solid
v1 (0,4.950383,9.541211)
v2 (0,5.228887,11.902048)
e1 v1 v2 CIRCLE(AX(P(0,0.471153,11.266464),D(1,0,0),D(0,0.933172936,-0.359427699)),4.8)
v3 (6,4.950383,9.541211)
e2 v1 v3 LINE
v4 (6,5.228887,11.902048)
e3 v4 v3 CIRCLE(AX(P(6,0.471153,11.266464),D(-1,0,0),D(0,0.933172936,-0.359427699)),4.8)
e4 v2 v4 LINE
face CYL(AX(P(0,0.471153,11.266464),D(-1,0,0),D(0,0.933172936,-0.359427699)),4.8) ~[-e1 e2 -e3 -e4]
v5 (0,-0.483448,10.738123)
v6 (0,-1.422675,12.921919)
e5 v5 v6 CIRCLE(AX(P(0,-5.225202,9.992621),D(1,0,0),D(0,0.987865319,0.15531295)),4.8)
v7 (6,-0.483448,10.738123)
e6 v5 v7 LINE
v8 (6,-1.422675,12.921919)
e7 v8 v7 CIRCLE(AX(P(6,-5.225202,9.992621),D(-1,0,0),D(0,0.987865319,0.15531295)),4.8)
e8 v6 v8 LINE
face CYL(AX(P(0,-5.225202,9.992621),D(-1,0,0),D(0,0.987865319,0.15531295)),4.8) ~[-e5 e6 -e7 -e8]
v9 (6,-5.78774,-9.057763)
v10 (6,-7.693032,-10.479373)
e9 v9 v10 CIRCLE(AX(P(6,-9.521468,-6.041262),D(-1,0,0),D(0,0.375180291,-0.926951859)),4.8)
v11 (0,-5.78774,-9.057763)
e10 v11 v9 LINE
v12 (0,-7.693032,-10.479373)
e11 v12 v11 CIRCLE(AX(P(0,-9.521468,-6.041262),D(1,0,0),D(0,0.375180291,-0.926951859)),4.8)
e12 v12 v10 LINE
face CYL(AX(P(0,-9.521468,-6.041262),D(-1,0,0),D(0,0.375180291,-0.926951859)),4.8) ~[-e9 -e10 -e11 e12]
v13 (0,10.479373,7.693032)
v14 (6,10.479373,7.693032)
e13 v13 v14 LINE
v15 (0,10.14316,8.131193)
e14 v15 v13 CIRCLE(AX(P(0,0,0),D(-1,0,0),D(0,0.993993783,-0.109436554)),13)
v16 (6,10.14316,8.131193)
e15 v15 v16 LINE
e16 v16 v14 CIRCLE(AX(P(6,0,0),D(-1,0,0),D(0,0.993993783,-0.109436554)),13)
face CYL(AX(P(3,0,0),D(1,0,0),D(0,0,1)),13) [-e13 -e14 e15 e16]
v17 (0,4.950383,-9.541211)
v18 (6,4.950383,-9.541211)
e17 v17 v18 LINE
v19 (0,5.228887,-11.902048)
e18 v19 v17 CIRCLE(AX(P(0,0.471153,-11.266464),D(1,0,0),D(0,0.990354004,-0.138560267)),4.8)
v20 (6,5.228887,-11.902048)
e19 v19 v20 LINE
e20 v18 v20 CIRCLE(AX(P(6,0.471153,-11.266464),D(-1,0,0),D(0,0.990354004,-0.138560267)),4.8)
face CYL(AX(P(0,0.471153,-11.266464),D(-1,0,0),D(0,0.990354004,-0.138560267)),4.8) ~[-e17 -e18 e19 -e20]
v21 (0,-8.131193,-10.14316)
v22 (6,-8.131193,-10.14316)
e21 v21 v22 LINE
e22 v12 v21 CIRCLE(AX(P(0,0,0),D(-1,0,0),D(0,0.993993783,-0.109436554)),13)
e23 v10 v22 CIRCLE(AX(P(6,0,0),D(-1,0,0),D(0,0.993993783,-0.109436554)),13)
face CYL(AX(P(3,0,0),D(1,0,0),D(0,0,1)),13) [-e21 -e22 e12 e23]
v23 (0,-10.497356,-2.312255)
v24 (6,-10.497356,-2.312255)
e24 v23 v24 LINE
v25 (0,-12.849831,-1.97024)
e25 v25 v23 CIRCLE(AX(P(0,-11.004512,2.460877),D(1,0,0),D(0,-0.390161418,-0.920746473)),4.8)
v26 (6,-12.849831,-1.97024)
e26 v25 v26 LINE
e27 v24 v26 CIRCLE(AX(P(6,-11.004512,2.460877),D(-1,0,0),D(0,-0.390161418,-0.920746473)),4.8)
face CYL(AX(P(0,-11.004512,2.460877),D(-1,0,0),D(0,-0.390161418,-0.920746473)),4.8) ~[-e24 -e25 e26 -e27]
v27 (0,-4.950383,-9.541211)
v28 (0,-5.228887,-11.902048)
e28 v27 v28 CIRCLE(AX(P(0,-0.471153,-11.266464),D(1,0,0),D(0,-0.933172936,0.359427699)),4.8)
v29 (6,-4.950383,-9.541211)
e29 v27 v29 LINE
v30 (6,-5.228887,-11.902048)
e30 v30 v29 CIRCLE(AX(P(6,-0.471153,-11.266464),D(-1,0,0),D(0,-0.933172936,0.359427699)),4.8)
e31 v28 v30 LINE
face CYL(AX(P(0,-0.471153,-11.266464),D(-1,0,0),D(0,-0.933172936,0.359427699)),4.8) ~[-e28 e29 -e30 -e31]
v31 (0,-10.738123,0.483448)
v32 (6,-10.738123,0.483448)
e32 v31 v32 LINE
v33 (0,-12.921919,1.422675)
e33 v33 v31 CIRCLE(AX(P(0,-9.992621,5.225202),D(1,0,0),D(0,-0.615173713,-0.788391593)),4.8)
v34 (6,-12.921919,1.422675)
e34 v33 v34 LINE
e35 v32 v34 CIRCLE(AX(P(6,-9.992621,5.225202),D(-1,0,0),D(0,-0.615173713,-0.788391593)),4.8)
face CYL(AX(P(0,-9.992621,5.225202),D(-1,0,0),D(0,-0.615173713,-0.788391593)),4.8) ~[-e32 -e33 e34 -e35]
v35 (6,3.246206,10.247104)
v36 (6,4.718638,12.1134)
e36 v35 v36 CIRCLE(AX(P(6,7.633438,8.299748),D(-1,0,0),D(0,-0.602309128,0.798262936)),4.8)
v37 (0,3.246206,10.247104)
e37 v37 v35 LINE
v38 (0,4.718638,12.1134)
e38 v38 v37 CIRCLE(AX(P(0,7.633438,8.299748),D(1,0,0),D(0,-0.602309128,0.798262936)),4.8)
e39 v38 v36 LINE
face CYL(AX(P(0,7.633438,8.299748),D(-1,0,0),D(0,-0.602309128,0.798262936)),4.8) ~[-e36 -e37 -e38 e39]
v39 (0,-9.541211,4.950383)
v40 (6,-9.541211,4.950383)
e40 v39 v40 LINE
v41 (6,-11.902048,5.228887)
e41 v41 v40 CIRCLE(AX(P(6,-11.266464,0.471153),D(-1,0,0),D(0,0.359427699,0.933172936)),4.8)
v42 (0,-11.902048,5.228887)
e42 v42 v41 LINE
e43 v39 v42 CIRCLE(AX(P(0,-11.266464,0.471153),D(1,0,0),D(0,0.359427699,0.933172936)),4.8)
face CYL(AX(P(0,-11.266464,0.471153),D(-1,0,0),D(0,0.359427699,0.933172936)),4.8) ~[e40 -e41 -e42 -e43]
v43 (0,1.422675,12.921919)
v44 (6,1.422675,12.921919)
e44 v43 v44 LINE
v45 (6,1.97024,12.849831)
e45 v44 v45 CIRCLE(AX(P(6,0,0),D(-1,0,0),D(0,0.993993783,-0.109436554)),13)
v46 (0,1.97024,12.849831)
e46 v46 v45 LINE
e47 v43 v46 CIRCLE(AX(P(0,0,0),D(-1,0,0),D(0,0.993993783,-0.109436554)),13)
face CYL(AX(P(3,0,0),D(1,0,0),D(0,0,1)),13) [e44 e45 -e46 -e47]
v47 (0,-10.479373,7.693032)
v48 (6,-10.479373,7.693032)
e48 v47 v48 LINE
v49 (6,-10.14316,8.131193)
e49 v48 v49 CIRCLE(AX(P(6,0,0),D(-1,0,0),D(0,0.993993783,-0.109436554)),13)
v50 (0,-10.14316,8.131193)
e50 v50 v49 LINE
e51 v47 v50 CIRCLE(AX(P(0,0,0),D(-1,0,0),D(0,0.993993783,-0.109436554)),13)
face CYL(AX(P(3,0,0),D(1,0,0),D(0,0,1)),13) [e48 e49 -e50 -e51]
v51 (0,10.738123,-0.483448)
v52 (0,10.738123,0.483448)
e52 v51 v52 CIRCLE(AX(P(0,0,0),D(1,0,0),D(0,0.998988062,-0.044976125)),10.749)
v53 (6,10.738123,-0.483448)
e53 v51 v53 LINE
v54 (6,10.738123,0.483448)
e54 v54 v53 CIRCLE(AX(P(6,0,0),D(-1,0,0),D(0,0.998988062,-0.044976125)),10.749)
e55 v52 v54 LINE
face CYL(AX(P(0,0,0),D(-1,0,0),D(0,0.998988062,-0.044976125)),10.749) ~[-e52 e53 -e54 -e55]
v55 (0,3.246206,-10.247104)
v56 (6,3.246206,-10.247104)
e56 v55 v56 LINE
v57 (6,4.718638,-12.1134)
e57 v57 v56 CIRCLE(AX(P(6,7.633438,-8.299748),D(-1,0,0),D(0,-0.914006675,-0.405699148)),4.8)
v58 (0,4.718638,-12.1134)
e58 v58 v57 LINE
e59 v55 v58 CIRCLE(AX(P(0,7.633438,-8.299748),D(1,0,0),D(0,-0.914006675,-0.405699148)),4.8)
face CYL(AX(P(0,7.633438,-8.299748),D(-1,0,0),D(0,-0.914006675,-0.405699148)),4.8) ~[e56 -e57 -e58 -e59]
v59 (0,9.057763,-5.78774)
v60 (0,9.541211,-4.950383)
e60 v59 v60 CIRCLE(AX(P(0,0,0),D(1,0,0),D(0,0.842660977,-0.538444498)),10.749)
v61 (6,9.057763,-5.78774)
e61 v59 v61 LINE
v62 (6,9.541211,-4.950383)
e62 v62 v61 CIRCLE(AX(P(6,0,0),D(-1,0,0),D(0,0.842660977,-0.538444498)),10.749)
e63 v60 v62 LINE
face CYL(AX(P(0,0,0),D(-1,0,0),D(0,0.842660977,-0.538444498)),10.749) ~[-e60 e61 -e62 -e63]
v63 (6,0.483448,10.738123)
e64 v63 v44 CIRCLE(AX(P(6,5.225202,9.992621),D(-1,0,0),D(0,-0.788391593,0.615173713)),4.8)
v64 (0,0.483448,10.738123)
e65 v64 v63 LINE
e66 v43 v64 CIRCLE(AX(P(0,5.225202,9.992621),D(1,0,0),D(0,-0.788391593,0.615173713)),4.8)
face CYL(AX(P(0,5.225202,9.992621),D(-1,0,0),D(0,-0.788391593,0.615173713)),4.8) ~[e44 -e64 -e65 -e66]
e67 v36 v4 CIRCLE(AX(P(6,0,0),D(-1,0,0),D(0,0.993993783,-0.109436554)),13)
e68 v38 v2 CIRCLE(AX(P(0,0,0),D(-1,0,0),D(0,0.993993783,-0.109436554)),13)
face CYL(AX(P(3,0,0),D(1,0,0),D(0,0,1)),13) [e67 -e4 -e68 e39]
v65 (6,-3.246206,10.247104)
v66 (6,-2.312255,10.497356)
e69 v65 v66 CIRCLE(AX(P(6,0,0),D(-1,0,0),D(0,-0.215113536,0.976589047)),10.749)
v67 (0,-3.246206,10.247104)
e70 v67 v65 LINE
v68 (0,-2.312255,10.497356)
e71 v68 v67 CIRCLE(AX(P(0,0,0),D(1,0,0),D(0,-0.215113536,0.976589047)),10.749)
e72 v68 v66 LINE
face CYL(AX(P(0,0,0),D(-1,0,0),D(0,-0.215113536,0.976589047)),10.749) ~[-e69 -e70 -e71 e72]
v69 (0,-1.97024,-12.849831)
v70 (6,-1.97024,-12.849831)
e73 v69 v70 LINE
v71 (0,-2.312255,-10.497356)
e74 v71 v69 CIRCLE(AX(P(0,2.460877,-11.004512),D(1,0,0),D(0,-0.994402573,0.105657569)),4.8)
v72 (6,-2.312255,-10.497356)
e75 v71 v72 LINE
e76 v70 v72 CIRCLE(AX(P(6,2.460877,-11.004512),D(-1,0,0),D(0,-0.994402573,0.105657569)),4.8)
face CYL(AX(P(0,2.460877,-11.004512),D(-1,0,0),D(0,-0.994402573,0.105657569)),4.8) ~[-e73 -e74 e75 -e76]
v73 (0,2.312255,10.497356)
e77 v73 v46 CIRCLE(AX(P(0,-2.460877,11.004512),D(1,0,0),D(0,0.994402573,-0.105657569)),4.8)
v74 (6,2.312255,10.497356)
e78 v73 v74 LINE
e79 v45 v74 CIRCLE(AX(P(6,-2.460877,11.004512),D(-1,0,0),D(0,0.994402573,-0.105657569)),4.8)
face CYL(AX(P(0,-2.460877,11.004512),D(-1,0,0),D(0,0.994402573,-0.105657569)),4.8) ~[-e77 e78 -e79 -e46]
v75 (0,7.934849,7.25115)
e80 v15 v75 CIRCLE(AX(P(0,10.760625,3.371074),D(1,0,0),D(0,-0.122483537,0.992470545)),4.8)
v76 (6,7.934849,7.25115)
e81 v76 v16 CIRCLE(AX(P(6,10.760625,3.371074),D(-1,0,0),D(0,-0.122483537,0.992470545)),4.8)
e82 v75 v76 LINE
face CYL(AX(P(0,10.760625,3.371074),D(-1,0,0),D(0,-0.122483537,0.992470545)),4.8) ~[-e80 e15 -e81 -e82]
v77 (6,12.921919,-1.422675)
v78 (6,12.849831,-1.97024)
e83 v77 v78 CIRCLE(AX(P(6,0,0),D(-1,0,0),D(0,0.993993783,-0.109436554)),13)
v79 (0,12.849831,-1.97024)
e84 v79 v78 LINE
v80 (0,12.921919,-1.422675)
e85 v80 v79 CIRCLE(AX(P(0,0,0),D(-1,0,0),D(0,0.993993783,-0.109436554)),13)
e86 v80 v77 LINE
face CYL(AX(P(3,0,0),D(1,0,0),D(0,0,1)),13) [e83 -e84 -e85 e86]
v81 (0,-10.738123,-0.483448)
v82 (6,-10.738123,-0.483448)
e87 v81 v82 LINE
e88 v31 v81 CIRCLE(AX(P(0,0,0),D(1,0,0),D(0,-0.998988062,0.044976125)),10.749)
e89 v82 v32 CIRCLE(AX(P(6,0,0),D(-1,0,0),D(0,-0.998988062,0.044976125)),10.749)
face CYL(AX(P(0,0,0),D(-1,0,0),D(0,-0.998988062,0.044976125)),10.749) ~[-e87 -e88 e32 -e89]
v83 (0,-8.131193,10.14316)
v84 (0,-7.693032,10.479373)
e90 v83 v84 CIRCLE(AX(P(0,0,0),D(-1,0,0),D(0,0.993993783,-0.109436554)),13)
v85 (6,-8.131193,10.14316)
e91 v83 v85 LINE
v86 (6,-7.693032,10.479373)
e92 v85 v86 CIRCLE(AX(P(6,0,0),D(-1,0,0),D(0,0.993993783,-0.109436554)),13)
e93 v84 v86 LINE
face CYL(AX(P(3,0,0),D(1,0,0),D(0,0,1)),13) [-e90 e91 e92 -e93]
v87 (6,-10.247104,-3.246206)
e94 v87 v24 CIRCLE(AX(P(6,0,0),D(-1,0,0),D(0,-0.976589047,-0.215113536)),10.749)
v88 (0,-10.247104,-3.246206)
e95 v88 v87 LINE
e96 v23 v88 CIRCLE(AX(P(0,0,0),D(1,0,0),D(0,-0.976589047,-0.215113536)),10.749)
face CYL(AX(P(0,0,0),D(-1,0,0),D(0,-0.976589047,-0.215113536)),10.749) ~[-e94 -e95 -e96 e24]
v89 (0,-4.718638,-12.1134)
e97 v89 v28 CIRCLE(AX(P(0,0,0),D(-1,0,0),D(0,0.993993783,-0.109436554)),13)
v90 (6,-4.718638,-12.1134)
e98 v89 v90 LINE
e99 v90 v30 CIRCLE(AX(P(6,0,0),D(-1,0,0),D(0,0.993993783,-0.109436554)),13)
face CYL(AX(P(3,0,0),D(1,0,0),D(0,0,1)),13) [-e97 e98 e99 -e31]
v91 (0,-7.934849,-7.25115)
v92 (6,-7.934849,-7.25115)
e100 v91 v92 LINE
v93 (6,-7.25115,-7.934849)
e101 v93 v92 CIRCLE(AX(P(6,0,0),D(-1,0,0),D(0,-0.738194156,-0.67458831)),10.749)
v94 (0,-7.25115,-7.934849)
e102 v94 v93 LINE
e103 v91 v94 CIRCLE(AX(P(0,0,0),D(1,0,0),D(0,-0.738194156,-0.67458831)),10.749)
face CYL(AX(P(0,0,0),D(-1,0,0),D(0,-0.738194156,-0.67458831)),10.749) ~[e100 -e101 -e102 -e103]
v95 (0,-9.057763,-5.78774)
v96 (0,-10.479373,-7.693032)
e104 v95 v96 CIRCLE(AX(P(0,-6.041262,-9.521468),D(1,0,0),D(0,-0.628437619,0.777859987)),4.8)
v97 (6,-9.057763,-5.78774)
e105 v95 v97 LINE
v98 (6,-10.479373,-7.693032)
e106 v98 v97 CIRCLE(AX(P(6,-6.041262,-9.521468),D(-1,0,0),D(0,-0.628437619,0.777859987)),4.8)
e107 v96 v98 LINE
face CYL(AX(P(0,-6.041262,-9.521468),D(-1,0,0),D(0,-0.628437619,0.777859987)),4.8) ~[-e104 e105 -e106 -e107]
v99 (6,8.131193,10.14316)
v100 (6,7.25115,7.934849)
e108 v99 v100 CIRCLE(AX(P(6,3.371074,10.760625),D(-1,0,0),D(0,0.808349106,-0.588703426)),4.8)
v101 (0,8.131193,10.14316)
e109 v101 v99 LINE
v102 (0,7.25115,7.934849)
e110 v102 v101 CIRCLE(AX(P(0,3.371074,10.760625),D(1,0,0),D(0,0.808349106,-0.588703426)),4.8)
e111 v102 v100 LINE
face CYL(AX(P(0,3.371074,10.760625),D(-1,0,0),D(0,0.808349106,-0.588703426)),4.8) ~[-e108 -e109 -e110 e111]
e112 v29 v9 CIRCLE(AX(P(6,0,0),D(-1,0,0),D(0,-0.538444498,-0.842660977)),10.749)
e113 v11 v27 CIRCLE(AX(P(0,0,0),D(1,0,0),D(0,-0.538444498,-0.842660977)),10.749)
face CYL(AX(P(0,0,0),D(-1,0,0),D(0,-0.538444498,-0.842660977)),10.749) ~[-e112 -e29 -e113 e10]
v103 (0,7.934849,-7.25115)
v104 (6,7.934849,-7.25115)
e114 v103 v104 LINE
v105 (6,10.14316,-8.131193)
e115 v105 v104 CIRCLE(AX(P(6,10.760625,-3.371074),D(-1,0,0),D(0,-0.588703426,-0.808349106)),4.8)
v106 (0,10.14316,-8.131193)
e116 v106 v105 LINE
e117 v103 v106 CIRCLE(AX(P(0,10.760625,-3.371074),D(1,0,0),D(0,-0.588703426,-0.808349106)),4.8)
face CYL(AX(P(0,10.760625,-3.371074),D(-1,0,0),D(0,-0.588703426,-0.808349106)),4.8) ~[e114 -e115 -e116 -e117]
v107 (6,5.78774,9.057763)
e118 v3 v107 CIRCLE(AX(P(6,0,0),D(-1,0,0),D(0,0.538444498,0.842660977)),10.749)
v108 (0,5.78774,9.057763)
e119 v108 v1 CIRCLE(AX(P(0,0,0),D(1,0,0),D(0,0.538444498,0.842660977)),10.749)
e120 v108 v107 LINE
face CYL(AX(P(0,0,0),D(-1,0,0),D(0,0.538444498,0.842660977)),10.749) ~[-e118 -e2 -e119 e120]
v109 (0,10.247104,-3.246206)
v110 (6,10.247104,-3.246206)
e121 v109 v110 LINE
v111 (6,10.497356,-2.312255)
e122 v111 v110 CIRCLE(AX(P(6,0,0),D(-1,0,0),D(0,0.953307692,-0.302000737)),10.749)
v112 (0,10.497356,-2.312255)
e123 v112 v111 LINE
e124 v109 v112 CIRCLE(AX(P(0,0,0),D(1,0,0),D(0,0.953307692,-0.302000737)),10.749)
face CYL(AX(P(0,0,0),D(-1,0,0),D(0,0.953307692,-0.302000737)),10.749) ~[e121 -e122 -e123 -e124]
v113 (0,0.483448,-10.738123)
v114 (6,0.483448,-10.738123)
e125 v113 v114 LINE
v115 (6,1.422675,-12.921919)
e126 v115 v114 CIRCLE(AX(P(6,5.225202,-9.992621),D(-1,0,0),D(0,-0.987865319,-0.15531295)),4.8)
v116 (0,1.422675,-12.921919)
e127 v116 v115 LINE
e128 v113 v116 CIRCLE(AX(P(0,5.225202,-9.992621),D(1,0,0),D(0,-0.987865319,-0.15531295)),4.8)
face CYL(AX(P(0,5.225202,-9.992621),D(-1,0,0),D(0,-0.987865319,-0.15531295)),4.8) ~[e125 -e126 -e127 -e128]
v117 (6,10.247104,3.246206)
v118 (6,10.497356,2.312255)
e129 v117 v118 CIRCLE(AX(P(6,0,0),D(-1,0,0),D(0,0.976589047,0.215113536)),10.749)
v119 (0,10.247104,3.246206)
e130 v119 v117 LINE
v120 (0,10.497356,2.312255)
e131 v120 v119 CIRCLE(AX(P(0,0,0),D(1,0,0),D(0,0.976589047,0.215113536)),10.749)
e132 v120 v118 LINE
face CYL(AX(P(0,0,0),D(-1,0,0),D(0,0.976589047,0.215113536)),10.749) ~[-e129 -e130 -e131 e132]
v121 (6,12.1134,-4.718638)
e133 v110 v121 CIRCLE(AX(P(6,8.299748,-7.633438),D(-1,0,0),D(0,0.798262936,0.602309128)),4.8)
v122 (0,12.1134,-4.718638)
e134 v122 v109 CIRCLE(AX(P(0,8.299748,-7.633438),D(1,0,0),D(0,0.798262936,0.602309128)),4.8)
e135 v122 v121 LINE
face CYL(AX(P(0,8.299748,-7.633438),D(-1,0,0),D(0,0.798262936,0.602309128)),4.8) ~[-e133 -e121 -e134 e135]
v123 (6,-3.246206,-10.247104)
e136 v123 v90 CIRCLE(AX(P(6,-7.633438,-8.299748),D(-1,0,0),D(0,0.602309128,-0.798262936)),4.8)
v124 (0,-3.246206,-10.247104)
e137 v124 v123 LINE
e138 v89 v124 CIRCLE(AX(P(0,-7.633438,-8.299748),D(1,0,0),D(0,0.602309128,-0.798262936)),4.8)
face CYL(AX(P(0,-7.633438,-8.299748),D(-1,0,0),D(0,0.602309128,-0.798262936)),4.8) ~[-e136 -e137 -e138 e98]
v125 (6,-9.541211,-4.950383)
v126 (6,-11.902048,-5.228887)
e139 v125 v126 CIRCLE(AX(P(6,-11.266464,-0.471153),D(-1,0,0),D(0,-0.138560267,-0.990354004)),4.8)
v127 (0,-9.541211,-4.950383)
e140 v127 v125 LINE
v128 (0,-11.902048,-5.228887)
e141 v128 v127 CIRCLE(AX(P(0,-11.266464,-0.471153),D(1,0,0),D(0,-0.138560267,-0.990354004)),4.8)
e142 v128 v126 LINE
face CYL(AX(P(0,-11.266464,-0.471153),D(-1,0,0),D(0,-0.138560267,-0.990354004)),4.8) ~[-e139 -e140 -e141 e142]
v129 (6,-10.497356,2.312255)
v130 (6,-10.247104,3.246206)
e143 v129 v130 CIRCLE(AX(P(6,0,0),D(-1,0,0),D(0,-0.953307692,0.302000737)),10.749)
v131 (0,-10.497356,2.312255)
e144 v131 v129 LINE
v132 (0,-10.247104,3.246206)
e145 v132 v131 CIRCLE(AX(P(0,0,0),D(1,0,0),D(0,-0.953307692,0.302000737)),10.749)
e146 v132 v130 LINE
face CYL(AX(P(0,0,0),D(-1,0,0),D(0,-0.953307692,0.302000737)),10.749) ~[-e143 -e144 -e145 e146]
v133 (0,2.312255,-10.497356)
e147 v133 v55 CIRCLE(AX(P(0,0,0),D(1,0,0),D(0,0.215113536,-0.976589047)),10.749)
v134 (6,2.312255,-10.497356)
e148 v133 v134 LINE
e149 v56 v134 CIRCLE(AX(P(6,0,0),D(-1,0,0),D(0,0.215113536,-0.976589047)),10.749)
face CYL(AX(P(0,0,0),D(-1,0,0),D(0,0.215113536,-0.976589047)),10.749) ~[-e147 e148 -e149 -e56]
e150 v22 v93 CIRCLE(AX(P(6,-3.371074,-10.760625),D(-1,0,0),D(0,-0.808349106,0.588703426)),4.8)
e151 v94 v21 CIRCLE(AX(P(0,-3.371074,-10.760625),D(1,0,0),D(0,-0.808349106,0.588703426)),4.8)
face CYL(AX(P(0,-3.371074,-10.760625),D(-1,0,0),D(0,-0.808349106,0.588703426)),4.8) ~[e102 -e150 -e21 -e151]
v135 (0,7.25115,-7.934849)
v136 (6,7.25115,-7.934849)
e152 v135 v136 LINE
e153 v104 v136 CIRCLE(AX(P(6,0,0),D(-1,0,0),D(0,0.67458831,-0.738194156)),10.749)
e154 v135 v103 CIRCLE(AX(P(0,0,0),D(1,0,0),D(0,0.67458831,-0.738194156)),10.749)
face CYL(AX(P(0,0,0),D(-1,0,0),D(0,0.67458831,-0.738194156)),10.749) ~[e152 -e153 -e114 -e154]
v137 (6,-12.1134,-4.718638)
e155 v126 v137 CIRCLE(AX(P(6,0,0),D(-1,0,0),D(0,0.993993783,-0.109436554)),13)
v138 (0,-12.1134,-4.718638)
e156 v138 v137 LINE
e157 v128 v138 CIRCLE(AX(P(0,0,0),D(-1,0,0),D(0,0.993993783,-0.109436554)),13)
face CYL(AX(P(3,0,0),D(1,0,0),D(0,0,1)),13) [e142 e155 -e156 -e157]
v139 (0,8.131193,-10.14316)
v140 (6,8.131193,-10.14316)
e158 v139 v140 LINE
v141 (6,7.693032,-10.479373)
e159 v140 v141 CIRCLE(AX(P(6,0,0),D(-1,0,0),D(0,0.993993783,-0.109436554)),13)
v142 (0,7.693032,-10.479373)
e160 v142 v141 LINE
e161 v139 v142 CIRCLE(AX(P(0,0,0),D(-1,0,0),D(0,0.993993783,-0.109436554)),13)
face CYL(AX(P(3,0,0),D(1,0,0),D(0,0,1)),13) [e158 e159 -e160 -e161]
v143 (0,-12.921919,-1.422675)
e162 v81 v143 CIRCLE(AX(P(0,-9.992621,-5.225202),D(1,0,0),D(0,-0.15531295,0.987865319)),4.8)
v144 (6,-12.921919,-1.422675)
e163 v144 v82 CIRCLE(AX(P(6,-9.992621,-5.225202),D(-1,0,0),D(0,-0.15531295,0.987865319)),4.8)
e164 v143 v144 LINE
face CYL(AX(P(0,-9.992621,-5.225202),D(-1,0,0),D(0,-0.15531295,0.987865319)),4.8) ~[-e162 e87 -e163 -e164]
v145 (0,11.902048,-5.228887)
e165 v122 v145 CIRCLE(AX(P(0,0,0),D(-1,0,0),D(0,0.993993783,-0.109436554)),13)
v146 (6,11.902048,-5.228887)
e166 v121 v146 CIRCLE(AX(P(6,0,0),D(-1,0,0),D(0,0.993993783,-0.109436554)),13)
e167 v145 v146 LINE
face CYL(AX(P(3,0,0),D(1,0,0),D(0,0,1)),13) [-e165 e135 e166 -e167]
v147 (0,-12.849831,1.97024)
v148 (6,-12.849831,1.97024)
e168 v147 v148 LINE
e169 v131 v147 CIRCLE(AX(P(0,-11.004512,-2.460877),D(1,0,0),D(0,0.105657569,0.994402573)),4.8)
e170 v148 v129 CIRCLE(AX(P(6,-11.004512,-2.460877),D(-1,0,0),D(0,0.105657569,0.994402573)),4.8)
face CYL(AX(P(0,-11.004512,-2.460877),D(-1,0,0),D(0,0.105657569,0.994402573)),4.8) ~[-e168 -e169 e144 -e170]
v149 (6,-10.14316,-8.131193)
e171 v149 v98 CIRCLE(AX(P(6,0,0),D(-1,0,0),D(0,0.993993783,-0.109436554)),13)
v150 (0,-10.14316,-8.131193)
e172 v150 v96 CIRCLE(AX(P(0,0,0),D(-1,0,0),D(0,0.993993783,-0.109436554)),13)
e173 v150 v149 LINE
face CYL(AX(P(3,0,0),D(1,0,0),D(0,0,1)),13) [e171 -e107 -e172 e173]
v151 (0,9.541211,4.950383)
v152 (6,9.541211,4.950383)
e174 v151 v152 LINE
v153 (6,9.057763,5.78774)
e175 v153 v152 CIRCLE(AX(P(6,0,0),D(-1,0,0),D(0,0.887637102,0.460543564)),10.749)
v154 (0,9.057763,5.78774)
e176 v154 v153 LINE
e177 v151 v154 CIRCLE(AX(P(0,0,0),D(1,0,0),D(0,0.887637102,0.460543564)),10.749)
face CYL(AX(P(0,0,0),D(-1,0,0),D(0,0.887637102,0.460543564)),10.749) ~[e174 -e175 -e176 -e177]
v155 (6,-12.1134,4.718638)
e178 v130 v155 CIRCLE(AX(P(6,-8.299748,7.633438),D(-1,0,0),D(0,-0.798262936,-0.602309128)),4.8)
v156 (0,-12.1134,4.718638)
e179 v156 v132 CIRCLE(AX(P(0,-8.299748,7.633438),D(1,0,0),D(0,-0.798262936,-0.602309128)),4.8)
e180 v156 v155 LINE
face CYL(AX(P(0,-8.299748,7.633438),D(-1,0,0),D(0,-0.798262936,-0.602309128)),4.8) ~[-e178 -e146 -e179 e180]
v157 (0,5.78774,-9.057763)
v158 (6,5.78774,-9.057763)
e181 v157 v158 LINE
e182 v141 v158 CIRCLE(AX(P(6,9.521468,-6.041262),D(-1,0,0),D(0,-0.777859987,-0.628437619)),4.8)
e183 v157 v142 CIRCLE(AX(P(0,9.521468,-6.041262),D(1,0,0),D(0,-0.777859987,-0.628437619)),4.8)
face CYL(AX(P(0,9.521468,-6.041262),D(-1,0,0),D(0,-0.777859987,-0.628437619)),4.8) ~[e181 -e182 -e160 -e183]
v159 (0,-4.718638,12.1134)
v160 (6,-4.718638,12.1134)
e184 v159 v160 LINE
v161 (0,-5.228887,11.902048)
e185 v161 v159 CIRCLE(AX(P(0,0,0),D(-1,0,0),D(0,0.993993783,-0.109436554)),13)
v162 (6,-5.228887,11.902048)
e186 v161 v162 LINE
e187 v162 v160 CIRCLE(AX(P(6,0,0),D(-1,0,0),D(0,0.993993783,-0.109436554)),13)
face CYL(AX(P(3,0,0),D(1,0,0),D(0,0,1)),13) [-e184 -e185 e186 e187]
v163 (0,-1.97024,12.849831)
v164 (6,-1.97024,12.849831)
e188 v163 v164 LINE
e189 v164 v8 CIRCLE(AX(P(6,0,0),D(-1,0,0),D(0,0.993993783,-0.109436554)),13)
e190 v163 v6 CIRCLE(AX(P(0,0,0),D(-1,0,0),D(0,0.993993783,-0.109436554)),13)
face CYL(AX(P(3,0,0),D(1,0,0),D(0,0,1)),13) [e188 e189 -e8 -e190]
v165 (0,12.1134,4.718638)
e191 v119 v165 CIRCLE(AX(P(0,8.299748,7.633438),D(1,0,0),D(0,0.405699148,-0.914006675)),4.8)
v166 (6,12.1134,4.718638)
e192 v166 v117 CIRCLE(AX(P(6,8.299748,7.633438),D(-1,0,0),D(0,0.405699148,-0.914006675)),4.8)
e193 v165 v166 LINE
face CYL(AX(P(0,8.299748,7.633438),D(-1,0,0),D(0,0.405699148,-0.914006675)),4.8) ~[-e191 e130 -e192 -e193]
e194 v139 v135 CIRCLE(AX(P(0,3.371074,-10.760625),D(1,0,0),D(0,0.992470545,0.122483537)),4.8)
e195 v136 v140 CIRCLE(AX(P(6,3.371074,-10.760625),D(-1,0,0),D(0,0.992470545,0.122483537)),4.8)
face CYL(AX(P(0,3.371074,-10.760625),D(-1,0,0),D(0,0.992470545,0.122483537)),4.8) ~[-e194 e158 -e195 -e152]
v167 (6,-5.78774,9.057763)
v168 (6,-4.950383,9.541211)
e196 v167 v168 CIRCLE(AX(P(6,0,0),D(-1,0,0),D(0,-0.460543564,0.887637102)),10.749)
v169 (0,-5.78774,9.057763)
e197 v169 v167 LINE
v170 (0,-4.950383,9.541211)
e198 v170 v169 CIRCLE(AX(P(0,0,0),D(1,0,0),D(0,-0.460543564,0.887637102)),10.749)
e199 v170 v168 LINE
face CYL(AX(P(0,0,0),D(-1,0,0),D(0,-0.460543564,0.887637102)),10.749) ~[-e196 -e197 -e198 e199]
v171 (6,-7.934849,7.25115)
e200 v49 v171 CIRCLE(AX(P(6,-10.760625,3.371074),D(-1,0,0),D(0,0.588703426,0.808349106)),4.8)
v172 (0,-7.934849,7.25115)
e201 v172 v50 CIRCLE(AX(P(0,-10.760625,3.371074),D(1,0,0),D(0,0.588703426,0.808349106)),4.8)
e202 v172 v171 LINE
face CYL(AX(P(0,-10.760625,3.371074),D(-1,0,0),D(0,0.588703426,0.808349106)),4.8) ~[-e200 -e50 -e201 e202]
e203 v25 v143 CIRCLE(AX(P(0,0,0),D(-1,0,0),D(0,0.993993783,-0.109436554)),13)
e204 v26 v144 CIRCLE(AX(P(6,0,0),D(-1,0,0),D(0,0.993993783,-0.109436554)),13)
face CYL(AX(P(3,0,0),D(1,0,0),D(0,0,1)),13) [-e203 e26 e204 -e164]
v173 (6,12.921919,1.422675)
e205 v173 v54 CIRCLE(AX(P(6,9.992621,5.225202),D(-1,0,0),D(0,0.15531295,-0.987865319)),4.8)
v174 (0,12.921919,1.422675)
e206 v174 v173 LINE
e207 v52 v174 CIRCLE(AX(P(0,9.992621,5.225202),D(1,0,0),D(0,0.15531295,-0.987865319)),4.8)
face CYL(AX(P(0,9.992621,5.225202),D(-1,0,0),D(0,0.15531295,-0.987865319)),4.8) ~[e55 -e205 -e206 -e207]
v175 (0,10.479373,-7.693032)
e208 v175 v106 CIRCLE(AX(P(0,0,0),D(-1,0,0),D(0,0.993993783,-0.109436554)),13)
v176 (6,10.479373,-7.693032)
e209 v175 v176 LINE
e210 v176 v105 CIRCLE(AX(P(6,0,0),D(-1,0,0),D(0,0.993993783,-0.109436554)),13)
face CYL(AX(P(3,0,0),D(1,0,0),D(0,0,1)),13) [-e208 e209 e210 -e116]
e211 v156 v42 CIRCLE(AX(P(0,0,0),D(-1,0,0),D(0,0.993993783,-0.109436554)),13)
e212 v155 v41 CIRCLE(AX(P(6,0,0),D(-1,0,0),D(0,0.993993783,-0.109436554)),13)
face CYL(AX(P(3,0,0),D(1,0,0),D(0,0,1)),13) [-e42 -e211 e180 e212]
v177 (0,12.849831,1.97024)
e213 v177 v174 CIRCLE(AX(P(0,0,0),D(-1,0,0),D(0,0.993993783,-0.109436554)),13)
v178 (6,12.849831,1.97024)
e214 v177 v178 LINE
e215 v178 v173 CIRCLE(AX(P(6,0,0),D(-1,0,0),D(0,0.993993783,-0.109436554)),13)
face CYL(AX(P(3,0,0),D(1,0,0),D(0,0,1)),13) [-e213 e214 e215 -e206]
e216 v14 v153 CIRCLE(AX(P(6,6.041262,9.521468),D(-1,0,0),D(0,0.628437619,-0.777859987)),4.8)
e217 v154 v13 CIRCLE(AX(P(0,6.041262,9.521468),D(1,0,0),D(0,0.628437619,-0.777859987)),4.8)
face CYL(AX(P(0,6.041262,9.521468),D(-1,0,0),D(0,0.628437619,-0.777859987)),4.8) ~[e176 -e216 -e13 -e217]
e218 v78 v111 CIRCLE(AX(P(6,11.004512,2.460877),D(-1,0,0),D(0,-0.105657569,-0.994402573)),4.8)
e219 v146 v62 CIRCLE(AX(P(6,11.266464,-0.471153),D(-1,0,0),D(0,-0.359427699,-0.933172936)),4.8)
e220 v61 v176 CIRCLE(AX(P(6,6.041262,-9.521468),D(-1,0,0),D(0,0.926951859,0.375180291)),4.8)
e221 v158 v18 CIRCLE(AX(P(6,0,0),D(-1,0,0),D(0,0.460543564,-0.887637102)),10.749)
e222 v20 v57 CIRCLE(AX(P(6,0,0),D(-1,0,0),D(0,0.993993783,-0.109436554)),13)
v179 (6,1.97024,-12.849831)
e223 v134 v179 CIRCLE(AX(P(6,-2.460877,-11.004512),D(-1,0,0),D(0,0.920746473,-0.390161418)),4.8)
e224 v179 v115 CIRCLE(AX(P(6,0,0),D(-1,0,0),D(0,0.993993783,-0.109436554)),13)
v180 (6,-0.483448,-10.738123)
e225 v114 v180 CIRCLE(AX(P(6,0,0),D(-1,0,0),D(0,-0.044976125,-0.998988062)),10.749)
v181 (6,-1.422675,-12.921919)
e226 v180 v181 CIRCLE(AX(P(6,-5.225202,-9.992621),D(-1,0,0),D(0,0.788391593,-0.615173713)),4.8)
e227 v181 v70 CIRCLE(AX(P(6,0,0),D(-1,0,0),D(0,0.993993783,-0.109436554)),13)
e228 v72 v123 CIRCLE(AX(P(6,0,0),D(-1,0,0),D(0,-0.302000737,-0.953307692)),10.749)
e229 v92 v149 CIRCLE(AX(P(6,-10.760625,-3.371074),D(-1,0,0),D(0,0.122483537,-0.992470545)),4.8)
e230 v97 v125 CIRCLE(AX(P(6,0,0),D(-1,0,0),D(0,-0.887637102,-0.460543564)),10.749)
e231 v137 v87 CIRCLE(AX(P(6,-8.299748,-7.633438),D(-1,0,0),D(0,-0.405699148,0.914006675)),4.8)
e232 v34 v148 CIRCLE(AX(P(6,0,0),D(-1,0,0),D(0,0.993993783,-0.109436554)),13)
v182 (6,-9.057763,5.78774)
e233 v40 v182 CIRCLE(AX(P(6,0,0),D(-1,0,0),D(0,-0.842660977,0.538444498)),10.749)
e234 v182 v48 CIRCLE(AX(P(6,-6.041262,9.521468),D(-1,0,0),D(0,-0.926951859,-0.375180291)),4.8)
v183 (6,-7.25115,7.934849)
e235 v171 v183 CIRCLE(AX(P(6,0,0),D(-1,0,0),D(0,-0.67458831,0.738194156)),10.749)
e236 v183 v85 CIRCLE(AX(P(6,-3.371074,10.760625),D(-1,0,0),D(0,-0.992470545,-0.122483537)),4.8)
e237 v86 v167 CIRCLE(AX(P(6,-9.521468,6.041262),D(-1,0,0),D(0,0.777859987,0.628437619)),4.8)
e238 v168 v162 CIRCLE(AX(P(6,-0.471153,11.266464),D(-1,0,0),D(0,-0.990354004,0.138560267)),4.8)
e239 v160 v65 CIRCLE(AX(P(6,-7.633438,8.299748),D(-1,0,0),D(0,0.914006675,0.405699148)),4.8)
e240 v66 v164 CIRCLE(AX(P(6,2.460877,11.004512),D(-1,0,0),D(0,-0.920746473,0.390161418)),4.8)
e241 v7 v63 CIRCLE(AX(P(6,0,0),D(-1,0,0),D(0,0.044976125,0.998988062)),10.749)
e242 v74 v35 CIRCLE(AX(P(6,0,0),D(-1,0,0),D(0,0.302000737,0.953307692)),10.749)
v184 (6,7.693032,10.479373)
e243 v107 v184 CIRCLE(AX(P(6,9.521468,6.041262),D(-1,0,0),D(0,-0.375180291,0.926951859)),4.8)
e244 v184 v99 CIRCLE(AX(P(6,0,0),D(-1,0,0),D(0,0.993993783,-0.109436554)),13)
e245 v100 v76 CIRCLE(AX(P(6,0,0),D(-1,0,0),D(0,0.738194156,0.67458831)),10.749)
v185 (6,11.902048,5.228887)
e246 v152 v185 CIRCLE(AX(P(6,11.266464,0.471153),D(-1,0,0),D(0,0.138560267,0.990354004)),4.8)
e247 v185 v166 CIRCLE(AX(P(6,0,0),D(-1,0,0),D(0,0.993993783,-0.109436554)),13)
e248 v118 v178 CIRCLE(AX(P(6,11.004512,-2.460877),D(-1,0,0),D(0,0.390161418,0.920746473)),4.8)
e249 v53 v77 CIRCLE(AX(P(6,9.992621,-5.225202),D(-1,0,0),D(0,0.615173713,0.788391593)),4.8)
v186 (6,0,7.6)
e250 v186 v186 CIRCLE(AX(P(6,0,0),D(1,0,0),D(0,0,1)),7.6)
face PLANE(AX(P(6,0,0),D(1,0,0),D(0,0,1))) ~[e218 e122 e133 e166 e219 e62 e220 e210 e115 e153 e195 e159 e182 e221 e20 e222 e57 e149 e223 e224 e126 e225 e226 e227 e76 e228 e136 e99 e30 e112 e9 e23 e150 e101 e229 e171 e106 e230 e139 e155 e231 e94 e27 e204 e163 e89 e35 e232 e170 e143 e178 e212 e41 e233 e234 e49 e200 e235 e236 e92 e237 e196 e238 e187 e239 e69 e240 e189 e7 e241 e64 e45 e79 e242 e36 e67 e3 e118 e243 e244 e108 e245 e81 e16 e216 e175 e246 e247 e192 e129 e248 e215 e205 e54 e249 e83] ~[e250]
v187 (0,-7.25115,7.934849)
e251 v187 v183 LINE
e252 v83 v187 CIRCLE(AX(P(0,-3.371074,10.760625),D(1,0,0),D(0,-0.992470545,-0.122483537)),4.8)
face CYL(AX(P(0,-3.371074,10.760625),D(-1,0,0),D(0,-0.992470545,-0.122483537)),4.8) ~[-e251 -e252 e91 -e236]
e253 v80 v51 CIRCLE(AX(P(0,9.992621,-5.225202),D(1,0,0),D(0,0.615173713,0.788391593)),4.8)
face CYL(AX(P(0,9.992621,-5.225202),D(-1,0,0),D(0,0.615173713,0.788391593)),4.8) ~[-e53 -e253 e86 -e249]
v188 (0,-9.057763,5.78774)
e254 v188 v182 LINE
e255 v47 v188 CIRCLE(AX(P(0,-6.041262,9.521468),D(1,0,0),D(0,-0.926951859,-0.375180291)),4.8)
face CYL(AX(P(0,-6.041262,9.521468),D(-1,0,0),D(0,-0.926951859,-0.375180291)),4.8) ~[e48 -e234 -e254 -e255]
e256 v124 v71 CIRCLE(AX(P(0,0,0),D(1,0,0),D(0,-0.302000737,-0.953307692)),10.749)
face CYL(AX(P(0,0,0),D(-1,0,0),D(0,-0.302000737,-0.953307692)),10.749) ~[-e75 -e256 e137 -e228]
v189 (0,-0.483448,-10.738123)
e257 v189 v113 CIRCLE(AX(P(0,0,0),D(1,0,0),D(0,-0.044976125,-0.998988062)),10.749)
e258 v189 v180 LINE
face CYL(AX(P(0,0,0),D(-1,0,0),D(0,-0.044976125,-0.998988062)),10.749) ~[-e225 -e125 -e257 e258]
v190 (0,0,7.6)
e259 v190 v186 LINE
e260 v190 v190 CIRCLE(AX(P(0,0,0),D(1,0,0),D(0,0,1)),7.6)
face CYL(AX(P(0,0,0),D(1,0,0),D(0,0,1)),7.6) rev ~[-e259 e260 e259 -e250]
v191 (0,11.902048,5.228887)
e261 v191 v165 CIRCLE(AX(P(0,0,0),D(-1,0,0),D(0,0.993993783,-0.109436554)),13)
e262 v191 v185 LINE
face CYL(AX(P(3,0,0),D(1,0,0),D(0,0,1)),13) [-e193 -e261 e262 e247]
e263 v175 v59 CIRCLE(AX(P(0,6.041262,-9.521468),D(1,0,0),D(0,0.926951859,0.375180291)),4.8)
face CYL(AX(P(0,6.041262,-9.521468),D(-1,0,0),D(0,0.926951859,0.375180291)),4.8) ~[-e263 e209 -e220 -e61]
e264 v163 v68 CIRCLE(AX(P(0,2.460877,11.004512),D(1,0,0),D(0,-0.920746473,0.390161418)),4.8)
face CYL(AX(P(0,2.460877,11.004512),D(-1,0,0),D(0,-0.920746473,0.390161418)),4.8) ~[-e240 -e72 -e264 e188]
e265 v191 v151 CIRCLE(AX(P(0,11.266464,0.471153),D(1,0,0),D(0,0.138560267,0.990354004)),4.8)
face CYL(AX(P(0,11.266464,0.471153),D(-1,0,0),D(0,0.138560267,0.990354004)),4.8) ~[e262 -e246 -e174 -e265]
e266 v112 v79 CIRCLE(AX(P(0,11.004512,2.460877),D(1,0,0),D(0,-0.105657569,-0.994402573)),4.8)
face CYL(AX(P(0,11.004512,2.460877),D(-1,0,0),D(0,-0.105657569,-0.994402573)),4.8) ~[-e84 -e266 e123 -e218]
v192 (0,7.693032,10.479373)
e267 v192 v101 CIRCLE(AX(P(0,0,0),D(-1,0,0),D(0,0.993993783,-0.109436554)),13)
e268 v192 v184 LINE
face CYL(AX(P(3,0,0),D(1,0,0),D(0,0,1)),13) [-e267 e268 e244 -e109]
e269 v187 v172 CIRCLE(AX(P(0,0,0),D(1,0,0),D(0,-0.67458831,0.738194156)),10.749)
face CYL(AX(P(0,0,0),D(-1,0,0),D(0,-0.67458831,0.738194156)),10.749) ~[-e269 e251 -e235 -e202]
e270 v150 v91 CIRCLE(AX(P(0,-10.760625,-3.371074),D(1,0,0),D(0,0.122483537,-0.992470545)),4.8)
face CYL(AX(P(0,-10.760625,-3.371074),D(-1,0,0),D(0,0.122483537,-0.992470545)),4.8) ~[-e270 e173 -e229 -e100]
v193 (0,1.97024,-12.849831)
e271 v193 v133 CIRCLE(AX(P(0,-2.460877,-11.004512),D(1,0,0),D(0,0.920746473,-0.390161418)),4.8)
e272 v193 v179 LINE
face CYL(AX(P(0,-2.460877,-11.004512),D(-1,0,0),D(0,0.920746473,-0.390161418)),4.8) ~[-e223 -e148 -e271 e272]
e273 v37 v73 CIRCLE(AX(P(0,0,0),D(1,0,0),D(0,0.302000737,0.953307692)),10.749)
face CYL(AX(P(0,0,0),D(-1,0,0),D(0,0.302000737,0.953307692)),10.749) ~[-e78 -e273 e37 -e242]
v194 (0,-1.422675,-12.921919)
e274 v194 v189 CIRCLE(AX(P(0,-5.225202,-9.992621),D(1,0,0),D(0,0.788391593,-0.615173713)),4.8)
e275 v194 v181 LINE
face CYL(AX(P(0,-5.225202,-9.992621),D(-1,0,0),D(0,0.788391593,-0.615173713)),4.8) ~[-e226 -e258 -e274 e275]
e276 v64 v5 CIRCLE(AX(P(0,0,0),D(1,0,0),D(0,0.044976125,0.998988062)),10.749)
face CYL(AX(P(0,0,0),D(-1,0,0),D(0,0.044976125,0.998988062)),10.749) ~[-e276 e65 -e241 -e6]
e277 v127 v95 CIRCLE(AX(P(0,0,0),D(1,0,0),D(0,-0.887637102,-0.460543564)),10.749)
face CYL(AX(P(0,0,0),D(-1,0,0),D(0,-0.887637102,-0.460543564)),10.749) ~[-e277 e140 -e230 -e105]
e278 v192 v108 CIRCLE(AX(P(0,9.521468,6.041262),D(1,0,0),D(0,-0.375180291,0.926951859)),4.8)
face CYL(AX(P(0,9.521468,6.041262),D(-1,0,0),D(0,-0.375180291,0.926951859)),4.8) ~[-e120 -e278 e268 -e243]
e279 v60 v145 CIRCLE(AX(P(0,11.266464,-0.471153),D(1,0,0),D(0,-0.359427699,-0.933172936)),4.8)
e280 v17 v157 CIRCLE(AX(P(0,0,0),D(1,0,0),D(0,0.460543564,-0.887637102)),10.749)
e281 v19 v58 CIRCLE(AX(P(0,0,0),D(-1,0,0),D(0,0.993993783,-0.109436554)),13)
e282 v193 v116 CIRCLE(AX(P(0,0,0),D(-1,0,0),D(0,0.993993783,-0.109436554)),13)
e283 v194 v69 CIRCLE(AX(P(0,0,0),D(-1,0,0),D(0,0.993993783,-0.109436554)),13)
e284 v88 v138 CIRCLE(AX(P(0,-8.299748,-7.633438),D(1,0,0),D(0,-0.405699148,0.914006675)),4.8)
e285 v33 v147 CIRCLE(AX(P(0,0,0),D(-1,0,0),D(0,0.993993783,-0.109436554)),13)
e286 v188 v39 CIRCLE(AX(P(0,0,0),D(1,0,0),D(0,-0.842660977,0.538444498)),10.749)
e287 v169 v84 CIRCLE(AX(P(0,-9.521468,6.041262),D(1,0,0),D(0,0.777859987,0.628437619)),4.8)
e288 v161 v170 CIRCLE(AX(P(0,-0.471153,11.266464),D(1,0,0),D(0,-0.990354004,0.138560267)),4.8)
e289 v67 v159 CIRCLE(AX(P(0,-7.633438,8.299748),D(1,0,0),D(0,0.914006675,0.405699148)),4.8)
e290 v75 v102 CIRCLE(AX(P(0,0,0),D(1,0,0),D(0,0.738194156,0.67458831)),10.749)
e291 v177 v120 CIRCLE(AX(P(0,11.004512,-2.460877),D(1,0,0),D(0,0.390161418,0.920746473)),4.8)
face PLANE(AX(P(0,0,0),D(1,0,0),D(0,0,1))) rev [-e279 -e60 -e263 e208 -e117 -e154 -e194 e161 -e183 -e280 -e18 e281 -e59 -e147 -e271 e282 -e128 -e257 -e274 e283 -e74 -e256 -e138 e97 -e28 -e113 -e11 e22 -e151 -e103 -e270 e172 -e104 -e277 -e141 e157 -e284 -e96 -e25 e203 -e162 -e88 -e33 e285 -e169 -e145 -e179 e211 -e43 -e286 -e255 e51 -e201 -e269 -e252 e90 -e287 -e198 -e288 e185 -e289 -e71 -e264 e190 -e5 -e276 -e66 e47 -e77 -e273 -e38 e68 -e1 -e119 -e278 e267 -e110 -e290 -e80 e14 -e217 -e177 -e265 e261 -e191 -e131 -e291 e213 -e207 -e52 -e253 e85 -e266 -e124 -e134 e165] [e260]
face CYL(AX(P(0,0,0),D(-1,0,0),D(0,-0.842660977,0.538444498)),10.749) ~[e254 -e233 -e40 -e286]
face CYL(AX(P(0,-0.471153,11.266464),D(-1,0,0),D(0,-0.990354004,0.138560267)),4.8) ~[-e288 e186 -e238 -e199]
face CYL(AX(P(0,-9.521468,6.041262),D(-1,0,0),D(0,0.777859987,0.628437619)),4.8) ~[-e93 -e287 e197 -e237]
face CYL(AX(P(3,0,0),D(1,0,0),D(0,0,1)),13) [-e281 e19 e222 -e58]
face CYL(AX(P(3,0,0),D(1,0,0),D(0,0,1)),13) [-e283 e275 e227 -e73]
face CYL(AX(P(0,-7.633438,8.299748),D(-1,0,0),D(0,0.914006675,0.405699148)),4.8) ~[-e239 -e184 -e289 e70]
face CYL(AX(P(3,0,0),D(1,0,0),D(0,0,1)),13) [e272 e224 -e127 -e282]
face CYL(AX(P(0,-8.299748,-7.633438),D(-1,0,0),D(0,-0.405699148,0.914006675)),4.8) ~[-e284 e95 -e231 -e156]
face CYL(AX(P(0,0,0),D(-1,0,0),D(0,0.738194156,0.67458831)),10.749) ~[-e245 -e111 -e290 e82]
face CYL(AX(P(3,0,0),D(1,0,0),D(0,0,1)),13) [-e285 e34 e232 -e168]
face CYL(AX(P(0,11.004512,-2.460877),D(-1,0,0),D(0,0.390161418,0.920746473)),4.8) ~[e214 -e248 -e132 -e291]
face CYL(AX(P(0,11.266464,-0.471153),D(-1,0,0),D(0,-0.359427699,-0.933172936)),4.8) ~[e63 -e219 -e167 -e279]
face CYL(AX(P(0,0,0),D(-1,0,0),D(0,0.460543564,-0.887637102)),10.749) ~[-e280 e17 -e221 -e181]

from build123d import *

# Parameters (mm, degrees)
BASPROSKE_W     = 6
BASPROSKE_H     = 13
TOOTHCUT_DEPTH  = 20.339079606
TEETHCUTS_COUNT = 24
TEETHCUTS_ANGLE = 345
BORSKE_R        = 7.6
BORE_DEPTH      = 50.0000508


with BuildPart() as part:
    # BasProSke → Base-Revolve (revolve)
    with BuildSketch(Plane(origin=(0, 0, 0), x_dir=(1, 0, 0), z_dir=(0, 1, 0)), mode=Mode.PRIVATE) as base_revolve_sk:
        with Locations((3, 6.5)):
            Rectangle(BASPROSKE_W, BASPROSKE_H)
    revolve(base_revolve_sk.sketch.rotate(Axis((-10, 0, 0), (1, 0, 0)), 180), axis=Axis((-10, 0, 0), (1, 0, 0)))

    # TooCutSke → ToothCut (cut, through all)
    with BuildSketch(Plane(origin=(0, 0, 0), x_dir=(0, 0, -1), z_dir=(1, 0, 0))):
        with BuildLine():
            ThreePointArc((0.483448384, 10.738122679), (0, 10.749), (-0.483448384, 10.738122679))
            ThreePointArc((-0.483448384, 10.738122679), (-0.821636462, 11.902754369), (-1.44092227, 12.945454344))
            ThreePointArc((-1.44092227, 12.945454344), (0, 13.0254), (1.44092227, 12.945454344))
            ThreePointArc((1.44092227, 12.945454344), (0.821636462, 11.902754369), (0.483448384, 10.738122679))
        make_face()
    toothcut = extrude(amount=TOOTHCUT_DEPTH, mode=Mode.SUBTRACT)

    # TeethCuts: ToothCut ×24 about axis
    teethcuts_axis = Axis((-10, 0, 0), (1, 0, 0))
    for i in range(1, TEETHCUTS_COUNT):
        add(toothcut.rotate(teethcuts_axis, i * TEETHCUTS_ANGLE / (TEETHCUTS_COUNT - 1)), mode=Mode.SUBTRACT)

    # BorSke → Bore (cut, symmetric)
    with BuildSketch(Plane(origin=(0, 0, 0), x_dir=(0, 0, -1), z_dir=(1, 0, 0))):
        with Locations(Location((0, 0, 0), (0, 0, 180))):
            Circle(BORSKE_R)
    extrude(amount=BORE_DEPTH, both=True, mode=Mode.SUBTRACT)


solid = part.part
